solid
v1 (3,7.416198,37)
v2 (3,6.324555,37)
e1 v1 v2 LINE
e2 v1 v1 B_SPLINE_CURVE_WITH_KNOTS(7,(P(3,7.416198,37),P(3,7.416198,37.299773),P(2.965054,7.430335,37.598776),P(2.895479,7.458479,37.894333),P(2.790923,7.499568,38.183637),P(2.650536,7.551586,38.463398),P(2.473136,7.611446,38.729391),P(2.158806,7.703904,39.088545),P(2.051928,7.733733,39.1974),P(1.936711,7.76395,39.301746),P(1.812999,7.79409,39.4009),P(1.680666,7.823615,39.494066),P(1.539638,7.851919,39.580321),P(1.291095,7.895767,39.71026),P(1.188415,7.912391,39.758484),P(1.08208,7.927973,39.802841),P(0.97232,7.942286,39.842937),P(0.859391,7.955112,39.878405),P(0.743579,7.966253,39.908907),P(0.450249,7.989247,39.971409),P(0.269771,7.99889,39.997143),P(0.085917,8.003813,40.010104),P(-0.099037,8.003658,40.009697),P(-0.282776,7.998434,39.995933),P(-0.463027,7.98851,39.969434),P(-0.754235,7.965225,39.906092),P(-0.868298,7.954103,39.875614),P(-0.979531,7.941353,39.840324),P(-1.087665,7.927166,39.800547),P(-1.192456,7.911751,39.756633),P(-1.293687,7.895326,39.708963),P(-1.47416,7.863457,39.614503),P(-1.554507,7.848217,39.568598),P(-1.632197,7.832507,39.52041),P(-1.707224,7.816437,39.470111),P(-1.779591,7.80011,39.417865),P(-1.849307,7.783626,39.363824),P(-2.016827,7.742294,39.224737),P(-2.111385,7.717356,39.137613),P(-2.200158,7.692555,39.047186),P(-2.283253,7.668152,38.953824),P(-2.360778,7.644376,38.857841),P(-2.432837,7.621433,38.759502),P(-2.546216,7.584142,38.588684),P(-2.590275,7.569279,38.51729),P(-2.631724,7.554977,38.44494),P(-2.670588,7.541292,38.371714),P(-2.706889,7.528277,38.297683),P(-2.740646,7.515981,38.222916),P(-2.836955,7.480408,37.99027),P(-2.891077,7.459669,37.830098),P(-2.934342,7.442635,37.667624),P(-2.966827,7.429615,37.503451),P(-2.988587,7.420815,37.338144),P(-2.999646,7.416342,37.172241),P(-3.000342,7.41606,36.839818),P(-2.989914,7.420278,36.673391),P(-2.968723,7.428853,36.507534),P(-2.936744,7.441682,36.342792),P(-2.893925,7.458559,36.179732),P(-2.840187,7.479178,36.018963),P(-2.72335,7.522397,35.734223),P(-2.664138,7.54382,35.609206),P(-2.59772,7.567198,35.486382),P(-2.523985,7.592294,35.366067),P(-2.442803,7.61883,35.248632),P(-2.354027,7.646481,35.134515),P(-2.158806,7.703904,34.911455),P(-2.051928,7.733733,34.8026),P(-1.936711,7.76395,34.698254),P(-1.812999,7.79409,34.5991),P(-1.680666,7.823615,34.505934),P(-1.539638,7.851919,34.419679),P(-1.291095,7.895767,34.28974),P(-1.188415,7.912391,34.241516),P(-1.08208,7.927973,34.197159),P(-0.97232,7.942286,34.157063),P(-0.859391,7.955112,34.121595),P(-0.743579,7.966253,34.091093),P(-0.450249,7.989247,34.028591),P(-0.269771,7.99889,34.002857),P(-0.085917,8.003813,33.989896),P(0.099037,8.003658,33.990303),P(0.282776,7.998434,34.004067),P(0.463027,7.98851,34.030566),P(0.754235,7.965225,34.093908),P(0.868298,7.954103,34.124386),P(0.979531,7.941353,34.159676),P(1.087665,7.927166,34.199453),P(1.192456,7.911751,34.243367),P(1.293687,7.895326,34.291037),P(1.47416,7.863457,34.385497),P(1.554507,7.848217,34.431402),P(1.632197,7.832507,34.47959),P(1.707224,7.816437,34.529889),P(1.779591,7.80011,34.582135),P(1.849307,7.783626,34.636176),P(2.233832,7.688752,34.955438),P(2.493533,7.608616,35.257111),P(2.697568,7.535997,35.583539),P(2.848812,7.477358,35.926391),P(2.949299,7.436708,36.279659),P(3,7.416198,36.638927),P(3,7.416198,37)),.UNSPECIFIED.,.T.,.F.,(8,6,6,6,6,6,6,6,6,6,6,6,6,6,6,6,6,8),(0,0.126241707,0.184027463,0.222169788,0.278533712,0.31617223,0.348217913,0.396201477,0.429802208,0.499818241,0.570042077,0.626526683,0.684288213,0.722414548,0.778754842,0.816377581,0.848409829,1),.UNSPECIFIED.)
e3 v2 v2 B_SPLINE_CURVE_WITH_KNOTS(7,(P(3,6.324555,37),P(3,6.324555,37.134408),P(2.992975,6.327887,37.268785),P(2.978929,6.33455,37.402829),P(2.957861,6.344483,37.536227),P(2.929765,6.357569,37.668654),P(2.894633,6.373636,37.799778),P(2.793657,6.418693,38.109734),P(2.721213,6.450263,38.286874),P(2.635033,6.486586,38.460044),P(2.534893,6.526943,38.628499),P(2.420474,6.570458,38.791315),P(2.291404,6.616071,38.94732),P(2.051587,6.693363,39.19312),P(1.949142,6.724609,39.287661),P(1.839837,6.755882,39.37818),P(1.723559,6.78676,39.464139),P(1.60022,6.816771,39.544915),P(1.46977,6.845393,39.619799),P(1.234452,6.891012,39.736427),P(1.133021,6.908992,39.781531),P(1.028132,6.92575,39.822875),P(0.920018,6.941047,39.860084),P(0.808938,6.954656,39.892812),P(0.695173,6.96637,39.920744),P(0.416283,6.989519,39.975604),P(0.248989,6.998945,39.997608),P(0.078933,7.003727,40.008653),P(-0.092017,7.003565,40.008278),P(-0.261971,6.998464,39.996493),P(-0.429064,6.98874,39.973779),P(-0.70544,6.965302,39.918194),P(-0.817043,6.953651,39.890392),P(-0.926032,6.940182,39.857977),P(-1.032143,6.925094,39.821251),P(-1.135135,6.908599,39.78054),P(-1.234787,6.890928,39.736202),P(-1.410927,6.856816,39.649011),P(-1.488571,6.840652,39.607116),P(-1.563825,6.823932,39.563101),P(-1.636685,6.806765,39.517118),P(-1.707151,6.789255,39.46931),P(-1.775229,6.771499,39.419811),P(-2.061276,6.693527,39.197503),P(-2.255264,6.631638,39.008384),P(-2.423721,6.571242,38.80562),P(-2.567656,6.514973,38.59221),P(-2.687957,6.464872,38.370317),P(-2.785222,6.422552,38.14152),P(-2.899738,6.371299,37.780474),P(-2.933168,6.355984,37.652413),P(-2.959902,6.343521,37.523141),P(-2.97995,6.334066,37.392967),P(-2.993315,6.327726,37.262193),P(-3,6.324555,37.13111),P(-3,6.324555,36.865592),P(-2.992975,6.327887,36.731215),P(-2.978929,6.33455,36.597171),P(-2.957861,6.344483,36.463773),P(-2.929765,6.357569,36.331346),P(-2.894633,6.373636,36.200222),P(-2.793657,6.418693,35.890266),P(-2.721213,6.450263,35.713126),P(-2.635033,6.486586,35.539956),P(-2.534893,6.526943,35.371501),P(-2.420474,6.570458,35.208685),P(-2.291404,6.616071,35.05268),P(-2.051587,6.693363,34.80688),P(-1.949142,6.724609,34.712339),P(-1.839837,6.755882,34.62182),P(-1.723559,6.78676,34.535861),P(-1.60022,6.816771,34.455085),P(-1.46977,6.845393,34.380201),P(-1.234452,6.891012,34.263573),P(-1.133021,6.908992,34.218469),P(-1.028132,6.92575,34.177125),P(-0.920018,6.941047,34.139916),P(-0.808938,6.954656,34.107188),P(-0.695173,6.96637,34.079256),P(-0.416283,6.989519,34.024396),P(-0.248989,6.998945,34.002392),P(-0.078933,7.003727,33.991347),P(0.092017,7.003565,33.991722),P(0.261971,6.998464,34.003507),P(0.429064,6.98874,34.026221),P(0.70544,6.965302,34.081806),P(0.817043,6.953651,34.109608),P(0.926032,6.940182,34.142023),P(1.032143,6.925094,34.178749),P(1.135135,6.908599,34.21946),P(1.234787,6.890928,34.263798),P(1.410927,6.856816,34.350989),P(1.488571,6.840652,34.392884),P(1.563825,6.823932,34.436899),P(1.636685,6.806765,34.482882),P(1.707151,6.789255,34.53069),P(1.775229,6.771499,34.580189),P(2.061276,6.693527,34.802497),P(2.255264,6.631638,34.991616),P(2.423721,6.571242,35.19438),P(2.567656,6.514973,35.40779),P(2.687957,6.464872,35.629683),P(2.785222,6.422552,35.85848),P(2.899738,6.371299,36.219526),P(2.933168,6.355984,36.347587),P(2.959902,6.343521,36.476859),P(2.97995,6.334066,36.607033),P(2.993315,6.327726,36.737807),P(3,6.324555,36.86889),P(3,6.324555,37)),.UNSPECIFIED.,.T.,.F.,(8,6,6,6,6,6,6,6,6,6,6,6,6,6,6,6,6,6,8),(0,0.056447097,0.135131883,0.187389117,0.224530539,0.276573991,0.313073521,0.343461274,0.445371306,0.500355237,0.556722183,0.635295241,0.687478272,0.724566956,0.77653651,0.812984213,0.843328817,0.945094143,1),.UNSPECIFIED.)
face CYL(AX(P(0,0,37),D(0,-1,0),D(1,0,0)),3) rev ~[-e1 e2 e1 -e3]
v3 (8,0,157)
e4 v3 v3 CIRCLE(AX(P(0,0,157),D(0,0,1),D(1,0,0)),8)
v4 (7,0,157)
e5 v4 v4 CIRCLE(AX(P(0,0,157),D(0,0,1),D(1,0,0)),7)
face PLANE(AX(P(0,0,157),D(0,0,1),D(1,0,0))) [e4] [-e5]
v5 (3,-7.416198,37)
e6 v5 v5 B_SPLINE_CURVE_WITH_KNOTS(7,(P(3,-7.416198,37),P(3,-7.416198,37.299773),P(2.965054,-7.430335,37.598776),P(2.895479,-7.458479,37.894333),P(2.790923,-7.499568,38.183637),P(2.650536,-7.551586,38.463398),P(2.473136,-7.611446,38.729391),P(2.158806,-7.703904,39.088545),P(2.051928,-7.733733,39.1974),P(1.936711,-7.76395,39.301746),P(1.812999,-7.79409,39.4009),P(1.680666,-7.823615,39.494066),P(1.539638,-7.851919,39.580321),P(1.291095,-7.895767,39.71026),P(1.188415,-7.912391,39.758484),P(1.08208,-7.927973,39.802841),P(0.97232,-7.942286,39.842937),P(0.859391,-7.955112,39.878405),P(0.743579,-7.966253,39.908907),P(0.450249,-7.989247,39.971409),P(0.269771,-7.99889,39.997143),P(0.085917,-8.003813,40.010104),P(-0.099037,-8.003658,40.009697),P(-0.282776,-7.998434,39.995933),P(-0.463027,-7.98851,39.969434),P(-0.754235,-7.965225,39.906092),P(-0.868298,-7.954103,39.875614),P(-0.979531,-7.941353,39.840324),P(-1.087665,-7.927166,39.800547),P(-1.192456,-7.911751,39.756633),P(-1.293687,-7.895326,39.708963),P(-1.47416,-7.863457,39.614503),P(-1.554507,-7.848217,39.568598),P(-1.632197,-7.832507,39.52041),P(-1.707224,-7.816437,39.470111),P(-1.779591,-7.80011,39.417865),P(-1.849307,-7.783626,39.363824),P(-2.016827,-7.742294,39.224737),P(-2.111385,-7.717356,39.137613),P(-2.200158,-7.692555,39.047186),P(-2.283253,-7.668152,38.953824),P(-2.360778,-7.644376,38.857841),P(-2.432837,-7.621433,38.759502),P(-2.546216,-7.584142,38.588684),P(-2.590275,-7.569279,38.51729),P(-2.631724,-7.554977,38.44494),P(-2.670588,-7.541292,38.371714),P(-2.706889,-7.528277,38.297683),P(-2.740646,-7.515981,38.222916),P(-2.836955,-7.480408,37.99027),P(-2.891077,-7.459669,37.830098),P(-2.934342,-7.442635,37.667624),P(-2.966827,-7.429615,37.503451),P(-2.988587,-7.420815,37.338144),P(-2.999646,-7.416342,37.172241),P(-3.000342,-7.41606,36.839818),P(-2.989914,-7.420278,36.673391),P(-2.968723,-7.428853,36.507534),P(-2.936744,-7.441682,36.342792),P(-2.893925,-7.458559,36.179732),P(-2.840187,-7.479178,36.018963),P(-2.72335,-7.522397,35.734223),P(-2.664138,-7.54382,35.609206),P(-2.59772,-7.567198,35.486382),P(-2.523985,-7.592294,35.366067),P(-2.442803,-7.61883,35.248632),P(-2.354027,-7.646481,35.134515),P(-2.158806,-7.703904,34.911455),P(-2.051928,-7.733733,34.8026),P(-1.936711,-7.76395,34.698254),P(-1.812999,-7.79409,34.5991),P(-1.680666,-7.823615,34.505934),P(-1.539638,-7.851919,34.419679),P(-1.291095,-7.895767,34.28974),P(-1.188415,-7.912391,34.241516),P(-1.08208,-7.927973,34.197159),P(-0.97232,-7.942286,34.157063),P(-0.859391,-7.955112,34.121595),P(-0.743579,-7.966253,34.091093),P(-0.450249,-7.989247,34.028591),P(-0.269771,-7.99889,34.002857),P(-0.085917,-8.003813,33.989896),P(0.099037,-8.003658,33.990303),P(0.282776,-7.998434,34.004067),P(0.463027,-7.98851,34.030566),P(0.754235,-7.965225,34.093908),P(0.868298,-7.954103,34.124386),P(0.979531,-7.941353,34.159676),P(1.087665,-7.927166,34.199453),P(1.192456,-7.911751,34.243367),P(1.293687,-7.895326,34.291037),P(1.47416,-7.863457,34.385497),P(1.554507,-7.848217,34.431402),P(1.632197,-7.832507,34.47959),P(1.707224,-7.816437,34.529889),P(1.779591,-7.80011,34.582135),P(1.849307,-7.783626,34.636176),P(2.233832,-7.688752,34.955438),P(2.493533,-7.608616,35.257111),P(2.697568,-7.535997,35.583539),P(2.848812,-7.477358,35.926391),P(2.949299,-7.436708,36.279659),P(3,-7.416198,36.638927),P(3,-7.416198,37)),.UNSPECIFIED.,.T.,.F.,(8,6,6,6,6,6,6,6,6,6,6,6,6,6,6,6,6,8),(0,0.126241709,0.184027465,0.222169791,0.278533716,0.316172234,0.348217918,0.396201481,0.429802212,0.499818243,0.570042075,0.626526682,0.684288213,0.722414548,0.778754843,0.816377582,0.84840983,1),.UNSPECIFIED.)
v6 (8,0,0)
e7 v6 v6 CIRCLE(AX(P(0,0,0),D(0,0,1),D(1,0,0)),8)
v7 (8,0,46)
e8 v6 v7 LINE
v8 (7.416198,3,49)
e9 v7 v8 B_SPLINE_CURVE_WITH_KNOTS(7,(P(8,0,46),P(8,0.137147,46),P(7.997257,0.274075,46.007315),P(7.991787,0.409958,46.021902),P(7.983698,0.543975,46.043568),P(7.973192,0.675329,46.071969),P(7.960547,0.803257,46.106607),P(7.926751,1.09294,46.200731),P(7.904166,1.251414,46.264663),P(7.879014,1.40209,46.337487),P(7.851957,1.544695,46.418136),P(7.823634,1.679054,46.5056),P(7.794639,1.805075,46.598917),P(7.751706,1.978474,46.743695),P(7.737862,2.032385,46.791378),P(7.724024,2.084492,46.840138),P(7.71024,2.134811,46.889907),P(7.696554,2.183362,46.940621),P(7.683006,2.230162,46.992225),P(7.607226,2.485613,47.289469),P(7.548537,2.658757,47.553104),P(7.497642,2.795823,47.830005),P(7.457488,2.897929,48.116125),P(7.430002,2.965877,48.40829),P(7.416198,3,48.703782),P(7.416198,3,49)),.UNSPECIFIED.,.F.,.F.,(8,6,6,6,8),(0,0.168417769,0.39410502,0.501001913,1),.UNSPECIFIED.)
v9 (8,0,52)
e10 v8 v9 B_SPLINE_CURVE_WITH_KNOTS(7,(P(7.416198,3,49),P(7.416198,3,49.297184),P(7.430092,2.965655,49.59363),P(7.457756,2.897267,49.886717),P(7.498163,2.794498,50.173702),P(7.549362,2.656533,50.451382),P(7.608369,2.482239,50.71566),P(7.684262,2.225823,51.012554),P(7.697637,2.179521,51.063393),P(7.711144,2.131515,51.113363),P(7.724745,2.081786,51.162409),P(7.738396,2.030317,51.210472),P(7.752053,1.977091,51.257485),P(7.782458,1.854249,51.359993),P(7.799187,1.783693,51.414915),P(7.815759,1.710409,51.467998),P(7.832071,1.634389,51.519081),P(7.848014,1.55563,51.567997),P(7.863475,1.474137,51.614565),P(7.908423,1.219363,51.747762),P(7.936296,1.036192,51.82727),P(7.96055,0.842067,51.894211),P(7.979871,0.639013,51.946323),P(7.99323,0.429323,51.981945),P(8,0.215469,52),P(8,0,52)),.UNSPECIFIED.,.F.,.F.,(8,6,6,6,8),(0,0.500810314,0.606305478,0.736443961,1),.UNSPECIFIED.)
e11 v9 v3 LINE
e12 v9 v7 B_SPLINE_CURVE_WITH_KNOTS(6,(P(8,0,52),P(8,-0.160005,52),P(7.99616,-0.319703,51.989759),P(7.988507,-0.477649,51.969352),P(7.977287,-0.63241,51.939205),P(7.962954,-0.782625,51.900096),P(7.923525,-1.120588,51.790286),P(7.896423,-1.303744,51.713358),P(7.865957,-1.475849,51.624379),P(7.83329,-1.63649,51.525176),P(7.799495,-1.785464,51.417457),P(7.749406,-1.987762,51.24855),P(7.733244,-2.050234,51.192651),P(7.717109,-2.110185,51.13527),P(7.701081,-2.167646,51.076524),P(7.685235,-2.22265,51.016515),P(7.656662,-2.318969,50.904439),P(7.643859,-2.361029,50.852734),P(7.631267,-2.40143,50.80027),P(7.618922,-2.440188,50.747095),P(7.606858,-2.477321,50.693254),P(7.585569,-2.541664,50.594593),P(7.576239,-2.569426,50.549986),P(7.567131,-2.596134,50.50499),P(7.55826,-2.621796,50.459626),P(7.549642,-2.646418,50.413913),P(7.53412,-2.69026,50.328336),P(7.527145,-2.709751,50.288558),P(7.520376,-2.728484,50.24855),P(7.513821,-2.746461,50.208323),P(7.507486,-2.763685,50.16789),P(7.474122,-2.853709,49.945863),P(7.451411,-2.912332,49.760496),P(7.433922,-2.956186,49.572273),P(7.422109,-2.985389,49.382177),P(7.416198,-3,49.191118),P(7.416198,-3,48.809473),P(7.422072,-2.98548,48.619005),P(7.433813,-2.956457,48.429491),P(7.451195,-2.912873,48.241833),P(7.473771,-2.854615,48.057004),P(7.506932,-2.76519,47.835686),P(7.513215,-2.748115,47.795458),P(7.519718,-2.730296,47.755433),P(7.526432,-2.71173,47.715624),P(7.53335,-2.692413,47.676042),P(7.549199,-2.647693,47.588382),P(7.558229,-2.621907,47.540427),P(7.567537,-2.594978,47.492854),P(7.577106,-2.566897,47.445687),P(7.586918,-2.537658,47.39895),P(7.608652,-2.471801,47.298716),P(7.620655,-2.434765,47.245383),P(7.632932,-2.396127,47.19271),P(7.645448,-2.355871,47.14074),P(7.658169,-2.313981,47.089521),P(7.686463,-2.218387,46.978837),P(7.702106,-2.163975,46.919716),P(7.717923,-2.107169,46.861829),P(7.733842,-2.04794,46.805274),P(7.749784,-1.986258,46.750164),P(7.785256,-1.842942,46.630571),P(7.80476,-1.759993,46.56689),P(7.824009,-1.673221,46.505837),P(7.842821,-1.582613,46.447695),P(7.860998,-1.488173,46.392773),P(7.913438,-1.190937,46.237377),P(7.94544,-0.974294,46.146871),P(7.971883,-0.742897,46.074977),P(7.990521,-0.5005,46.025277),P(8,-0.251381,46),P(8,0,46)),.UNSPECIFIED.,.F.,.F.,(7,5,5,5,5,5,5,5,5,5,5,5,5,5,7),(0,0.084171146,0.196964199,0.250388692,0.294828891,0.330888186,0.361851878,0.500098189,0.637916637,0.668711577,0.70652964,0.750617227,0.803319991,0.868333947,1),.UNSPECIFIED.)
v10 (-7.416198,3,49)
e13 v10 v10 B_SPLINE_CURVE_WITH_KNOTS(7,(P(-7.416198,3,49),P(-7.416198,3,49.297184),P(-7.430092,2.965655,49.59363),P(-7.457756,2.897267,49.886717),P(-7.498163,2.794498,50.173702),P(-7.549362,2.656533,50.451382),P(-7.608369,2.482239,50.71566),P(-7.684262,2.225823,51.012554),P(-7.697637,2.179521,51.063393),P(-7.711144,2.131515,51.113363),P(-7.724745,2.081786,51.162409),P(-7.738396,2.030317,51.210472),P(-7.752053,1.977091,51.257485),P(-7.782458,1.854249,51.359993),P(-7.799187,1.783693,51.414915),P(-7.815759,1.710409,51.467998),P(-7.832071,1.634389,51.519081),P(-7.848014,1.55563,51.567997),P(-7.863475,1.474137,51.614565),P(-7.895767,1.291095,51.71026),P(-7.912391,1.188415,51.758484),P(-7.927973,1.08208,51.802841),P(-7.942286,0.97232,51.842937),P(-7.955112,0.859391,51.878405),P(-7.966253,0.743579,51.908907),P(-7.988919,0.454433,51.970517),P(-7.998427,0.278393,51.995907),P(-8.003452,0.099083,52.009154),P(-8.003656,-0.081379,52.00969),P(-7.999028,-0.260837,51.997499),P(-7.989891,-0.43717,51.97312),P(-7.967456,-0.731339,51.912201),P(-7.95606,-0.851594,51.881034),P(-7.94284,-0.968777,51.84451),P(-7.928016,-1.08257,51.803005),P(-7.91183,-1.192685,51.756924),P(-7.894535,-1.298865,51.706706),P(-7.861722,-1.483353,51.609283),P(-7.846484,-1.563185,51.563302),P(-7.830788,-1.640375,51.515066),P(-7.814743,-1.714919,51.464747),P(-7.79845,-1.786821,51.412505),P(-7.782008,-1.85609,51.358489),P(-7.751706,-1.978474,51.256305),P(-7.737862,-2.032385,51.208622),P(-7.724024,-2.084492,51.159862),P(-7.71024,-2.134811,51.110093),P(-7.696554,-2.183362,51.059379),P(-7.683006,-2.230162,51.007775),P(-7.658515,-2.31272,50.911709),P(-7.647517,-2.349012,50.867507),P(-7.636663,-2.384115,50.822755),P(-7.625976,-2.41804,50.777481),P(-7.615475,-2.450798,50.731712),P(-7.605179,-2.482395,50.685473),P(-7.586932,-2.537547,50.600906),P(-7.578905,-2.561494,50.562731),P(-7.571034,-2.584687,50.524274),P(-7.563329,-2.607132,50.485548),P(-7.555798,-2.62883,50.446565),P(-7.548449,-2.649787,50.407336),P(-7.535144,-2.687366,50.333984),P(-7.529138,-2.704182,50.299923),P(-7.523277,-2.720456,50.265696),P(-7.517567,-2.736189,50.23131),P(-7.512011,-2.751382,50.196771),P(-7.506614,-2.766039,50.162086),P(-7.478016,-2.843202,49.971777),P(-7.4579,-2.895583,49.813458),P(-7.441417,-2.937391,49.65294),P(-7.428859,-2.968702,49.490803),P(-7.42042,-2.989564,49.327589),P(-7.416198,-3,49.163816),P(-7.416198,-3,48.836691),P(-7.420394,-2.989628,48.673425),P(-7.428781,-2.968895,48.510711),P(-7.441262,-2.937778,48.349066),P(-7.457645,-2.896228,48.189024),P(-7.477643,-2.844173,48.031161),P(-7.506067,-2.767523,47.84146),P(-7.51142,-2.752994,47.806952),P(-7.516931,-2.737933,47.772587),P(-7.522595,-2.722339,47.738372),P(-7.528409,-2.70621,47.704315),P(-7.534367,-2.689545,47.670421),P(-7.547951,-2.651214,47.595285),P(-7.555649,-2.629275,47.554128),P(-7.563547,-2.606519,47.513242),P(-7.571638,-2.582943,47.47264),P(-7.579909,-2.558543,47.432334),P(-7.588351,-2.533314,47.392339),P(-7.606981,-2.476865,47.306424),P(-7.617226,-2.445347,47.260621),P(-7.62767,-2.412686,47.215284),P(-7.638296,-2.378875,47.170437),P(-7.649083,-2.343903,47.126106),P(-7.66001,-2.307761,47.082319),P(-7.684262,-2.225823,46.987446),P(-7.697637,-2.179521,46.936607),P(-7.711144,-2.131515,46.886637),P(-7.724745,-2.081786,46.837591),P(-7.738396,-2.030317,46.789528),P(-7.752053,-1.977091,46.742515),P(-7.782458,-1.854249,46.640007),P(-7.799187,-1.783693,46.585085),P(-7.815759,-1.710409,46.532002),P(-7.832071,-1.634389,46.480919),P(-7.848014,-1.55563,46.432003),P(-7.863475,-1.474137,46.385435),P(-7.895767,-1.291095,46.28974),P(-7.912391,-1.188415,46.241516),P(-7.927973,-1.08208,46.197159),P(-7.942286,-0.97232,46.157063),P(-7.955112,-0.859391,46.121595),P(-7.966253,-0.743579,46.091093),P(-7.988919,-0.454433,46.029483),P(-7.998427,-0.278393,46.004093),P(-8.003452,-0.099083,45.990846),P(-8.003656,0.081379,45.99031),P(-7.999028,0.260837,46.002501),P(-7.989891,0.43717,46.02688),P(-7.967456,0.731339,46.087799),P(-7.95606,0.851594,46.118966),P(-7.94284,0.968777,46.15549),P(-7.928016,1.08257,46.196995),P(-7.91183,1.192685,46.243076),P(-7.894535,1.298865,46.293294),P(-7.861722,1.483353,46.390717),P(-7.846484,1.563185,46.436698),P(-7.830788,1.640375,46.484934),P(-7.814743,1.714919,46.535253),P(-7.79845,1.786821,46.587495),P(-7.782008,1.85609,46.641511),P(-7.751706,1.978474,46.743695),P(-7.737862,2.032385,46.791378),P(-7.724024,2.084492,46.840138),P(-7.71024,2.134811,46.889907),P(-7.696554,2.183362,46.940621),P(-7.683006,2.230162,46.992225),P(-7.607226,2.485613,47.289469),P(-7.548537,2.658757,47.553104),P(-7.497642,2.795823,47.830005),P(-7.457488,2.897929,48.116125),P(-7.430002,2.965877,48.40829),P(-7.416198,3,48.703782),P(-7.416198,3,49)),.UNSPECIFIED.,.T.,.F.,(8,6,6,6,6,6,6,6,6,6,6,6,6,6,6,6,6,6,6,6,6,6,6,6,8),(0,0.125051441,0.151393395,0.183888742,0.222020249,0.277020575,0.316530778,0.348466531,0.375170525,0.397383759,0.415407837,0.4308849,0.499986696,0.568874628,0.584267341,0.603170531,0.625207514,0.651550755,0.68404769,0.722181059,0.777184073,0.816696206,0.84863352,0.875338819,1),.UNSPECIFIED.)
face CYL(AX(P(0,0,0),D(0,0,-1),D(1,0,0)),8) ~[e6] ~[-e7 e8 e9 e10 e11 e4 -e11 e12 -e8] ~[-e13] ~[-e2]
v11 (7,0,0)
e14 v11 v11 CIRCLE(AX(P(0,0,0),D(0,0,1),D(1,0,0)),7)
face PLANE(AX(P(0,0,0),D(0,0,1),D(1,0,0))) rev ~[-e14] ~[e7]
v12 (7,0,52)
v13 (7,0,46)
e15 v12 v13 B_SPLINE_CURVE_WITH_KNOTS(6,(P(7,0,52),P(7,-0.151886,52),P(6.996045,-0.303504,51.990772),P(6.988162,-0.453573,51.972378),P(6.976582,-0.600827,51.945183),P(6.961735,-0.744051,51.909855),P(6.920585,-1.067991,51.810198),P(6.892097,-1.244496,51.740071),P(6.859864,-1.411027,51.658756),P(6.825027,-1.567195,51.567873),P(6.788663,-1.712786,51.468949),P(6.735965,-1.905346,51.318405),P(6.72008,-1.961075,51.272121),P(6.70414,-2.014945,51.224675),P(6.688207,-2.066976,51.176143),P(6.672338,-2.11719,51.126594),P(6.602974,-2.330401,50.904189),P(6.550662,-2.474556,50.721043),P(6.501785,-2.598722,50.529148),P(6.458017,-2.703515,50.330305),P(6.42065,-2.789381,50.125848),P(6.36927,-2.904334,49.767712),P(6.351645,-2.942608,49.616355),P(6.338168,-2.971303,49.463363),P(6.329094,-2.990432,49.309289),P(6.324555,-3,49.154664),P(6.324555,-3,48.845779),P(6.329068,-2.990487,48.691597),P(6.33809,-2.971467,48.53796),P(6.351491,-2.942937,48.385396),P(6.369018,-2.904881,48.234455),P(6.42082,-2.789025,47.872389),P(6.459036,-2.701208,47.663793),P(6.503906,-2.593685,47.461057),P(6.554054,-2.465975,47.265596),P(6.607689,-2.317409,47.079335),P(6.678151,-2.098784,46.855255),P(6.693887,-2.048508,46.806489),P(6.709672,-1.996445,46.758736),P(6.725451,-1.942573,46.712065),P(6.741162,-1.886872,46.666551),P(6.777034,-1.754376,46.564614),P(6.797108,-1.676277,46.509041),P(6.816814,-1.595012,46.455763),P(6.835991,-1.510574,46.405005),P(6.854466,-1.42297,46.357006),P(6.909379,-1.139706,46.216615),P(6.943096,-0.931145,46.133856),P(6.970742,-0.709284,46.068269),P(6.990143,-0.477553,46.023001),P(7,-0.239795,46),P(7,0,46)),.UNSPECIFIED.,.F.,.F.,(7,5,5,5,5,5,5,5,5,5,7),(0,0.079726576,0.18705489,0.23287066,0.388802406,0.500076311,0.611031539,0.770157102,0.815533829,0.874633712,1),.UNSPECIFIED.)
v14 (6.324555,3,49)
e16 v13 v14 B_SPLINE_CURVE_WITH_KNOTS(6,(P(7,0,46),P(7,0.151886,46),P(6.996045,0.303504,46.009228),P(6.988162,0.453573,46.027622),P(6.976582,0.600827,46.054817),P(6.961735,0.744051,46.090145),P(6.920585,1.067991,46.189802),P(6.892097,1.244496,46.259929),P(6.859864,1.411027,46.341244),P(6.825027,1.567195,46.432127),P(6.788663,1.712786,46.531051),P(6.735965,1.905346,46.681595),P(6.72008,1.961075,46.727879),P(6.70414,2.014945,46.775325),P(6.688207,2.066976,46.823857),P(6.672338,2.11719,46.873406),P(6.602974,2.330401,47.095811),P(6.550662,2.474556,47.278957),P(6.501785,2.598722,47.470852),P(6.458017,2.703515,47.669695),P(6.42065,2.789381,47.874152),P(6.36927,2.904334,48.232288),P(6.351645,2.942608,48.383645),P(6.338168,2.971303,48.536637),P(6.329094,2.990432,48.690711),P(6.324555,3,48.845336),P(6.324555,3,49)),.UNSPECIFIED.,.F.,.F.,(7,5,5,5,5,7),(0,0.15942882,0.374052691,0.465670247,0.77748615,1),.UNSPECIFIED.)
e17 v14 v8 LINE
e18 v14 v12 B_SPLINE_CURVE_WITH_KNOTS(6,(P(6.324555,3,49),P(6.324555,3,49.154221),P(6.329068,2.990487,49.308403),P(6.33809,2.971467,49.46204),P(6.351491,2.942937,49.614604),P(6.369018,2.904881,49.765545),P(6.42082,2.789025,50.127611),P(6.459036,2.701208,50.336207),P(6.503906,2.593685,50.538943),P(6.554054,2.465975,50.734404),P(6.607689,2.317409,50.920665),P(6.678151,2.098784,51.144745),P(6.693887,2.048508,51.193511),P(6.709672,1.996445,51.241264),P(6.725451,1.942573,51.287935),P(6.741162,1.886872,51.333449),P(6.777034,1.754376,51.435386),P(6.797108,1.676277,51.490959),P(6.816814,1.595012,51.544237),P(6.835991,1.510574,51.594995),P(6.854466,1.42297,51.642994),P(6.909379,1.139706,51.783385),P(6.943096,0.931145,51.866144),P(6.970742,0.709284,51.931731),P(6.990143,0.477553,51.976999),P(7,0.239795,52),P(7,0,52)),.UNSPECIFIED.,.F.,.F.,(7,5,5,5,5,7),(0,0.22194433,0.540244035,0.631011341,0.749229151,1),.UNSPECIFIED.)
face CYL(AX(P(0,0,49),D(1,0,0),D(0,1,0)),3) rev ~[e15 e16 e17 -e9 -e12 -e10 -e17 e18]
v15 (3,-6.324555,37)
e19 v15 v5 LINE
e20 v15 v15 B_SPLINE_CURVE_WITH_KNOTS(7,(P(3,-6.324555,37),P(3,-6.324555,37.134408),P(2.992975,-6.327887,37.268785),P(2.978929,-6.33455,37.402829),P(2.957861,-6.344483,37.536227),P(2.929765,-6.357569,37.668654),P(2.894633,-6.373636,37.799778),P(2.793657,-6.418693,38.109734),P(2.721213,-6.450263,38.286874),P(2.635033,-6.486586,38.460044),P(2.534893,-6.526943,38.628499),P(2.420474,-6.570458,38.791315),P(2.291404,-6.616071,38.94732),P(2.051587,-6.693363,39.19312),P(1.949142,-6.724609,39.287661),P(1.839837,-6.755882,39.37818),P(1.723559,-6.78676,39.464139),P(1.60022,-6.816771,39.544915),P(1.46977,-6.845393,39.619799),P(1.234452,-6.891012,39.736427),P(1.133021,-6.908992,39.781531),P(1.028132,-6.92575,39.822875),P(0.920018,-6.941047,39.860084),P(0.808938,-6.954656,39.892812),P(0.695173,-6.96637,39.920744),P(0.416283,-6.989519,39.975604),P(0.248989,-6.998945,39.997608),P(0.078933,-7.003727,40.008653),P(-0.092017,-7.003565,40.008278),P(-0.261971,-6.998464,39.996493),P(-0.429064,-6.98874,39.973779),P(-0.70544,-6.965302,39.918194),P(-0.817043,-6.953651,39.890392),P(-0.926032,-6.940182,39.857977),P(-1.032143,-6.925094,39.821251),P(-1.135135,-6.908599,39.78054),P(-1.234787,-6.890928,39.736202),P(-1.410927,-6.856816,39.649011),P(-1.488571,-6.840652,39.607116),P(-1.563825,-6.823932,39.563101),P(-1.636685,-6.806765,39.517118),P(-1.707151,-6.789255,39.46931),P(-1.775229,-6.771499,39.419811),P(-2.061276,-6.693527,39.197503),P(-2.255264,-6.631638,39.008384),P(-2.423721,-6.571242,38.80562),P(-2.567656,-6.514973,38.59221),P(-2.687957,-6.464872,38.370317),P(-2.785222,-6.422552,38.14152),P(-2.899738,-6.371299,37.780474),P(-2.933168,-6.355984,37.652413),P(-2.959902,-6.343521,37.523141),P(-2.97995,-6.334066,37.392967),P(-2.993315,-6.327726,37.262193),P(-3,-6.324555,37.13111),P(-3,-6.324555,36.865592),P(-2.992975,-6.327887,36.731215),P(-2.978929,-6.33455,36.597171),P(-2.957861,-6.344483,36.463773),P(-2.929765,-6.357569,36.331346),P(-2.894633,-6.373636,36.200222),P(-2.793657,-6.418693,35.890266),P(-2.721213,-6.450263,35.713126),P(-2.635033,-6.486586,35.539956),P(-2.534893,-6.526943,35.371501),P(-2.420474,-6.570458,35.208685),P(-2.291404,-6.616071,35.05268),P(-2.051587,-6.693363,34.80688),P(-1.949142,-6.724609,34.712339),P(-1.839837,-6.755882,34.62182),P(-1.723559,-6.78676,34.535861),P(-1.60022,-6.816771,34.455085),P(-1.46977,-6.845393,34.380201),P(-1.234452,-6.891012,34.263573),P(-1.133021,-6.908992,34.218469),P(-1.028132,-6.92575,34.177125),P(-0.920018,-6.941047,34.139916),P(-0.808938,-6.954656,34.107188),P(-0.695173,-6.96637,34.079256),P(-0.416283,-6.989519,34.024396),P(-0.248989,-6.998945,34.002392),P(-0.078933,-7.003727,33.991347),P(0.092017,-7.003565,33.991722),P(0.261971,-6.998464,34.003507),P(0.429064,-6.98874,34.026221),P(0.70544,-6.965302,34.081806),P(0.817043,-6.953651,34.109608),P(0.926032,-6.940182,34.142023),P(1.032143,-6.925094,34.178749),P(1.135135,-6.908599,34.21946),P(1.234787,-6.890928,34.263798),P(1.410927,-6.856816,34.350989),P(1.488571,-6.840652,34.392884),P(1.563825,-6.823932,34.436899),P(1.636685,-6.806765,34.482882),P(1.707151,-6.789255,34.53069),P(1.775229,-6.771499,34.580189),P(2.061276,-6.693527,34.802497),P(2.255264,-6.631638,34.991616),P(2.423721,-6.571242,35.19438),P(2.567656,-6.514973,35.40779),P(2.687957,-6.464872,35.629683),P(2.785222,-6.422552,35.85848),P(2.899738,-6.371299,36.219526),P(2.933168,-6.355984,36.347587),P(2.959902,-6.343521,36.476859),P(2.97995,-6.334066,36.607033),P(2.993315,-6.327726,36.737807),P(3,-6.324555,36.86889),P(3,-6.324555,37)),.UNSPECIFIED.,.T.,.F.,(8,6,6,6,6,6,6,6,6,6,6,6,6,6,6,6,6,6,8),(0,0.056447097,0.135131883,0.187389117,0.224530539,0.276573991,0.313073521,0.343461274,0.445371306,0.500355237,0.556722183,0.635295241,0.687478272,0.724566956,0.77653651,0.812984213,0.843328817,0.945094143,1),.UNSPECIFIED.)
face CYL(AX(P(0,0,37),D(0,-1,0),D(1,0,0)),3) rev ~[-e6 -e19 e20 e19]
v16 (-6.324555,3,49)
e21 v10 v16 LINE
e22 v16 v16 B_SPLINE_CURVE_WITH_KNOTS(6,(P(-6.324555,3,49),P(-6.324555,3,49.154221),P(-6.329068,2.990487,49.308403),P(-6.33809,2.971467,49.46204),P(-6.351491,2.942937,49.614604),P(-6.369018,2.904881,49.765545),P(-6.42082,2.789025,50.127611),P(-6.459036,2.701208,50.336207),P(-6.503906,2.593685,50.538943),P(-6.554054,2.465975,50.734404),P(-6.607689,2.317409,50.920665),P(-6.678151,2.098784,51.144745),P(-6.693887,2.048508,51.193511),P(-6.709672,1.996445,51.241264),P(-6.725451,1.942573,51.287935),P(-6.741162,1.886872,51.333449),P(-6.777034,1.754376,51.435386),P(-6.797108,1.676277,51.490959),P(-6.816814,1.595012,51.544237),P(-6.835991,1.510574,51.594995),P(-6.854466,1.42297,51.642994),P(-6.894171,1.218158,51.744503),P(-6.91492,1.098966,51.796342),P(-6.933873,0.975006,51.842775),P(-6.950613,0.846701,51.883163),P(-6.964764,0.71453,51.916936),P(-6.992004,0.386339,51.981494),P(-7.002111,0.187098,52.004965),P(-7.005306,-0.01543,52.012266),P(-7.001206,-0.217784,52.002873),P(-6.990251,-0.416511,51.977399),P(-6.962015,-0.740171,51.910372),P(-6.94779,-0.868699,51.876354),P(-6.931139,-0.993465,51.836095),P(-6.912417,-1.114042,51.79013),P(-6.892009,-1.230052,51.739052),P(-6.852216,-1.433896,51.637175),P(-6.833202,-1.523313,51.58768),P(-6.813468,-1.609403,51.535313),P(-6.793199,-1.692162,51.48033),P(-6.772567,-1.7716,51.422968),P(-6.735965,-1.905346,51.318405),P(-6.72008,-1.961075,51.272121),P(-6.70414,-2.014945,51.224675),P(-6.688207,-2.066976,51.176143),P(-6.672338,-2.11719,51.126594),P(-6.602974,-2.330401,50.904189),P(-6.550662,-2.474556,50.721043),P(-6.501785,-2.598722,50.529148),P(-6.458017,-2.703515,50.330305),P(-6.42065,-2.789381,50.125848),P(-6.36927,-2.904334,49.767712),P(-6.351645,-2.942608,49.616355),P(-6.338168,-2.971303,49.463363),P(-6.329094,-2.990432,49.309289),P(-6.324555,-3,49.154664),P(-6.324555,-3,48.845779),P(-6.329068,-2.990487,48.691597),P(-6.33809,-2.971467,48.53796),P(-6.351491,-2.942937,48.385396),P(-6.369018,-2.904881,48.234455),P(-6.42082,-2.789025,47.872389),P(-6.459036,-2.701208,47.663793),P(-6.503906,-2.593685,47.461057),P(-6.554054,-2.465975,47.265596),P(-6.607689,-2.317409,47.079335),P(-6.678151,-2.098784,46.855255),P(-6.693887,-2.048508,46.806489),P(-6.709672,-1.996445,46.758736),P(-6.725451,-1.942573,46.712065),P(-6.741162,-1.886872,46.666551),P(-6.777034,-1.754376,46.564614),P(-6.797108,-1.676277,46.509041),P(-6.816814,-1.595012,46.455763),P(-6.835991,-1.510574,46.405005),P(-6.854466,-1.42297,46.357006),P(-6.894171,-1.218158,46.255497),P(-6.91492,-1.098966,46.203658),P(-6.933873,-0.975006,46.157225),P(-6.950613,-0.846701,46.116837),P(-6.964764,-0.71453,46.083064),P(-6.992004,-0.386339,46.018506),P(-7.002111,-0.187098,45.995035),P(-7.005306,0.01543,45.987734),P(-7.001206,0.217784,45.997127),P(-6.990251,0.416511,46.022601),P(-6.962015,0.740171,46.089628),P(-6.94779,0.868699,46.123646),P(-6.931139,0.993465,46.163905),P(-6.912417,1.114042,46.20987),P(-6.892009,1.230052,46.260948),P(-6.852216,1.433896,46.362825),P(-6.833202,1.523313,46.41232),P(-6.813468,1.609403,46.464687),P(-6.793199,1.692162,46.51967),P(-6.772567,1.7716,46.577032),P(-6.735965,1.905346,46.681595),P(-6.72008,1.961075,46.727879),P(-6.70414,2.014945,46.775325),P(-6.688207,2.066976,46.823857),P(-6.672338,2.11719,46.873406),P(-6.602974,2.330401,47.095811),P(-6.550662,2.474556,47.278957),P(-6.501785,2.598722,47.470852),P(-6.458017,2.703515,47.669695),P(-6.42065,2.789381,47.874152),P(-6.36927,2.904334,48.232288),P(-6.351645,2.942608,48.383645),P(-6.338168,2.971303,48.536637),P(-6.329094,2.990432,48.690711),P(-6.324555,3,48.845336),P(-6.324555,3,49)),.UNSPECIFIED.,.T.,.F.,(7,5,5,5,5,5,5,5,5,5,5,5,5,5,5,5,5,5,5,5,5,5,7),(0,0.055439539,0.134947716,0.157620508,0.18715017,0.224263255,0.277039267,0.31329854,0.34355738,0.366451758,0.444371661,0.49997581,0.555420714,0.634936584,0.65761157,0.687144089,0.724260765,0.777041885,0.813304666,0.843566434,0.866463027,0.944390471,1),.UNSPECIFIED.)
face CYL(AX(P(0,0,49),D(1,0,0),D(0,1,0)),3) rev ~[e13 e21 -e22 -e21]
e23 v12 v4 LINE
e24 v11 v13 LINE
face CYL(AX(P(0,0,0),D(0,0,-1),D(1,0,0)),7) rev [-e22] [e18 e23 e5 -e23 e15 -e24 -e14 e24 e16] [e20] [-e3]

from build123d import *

# Parameters (mm, degrees)
F0_R     = 8
F0_R_2   = 7
F1_DEPTH = 157
F2_R     = 3
F3_DEPTH = 25
F4_R     = 3
F5_DEPTH = 12.5


with BuildPart() as f1:
    # F0 (on Top) → F1 (new body)
    with BuildSketch(Plane.XY):
        Circle(F0_R)
        Circle(F0_R_2, mode=Mode.SUBTRACT)
    extrude(amount=F1_DEPTH)

    # F2 (on Front) → F3 (cut, symmetric)
    with BuildSketch(Plane.XZ):
        with Locations((0, 37)):
            Circle(F2_R)
    extrude(amount=F3_DEPTH, both=True, mode=Mode.SUBTRACT)

    # F4 (on Right) → F5 (cut, symmetric)
    with BuildSketch(Plane.YZ):
        with Locations((0, 49)):
            Circle(F4_R)
    extrude(amount=F5_DEPTH, both=True, mode=Mode.SUBTRACT)


solid = f1.part
